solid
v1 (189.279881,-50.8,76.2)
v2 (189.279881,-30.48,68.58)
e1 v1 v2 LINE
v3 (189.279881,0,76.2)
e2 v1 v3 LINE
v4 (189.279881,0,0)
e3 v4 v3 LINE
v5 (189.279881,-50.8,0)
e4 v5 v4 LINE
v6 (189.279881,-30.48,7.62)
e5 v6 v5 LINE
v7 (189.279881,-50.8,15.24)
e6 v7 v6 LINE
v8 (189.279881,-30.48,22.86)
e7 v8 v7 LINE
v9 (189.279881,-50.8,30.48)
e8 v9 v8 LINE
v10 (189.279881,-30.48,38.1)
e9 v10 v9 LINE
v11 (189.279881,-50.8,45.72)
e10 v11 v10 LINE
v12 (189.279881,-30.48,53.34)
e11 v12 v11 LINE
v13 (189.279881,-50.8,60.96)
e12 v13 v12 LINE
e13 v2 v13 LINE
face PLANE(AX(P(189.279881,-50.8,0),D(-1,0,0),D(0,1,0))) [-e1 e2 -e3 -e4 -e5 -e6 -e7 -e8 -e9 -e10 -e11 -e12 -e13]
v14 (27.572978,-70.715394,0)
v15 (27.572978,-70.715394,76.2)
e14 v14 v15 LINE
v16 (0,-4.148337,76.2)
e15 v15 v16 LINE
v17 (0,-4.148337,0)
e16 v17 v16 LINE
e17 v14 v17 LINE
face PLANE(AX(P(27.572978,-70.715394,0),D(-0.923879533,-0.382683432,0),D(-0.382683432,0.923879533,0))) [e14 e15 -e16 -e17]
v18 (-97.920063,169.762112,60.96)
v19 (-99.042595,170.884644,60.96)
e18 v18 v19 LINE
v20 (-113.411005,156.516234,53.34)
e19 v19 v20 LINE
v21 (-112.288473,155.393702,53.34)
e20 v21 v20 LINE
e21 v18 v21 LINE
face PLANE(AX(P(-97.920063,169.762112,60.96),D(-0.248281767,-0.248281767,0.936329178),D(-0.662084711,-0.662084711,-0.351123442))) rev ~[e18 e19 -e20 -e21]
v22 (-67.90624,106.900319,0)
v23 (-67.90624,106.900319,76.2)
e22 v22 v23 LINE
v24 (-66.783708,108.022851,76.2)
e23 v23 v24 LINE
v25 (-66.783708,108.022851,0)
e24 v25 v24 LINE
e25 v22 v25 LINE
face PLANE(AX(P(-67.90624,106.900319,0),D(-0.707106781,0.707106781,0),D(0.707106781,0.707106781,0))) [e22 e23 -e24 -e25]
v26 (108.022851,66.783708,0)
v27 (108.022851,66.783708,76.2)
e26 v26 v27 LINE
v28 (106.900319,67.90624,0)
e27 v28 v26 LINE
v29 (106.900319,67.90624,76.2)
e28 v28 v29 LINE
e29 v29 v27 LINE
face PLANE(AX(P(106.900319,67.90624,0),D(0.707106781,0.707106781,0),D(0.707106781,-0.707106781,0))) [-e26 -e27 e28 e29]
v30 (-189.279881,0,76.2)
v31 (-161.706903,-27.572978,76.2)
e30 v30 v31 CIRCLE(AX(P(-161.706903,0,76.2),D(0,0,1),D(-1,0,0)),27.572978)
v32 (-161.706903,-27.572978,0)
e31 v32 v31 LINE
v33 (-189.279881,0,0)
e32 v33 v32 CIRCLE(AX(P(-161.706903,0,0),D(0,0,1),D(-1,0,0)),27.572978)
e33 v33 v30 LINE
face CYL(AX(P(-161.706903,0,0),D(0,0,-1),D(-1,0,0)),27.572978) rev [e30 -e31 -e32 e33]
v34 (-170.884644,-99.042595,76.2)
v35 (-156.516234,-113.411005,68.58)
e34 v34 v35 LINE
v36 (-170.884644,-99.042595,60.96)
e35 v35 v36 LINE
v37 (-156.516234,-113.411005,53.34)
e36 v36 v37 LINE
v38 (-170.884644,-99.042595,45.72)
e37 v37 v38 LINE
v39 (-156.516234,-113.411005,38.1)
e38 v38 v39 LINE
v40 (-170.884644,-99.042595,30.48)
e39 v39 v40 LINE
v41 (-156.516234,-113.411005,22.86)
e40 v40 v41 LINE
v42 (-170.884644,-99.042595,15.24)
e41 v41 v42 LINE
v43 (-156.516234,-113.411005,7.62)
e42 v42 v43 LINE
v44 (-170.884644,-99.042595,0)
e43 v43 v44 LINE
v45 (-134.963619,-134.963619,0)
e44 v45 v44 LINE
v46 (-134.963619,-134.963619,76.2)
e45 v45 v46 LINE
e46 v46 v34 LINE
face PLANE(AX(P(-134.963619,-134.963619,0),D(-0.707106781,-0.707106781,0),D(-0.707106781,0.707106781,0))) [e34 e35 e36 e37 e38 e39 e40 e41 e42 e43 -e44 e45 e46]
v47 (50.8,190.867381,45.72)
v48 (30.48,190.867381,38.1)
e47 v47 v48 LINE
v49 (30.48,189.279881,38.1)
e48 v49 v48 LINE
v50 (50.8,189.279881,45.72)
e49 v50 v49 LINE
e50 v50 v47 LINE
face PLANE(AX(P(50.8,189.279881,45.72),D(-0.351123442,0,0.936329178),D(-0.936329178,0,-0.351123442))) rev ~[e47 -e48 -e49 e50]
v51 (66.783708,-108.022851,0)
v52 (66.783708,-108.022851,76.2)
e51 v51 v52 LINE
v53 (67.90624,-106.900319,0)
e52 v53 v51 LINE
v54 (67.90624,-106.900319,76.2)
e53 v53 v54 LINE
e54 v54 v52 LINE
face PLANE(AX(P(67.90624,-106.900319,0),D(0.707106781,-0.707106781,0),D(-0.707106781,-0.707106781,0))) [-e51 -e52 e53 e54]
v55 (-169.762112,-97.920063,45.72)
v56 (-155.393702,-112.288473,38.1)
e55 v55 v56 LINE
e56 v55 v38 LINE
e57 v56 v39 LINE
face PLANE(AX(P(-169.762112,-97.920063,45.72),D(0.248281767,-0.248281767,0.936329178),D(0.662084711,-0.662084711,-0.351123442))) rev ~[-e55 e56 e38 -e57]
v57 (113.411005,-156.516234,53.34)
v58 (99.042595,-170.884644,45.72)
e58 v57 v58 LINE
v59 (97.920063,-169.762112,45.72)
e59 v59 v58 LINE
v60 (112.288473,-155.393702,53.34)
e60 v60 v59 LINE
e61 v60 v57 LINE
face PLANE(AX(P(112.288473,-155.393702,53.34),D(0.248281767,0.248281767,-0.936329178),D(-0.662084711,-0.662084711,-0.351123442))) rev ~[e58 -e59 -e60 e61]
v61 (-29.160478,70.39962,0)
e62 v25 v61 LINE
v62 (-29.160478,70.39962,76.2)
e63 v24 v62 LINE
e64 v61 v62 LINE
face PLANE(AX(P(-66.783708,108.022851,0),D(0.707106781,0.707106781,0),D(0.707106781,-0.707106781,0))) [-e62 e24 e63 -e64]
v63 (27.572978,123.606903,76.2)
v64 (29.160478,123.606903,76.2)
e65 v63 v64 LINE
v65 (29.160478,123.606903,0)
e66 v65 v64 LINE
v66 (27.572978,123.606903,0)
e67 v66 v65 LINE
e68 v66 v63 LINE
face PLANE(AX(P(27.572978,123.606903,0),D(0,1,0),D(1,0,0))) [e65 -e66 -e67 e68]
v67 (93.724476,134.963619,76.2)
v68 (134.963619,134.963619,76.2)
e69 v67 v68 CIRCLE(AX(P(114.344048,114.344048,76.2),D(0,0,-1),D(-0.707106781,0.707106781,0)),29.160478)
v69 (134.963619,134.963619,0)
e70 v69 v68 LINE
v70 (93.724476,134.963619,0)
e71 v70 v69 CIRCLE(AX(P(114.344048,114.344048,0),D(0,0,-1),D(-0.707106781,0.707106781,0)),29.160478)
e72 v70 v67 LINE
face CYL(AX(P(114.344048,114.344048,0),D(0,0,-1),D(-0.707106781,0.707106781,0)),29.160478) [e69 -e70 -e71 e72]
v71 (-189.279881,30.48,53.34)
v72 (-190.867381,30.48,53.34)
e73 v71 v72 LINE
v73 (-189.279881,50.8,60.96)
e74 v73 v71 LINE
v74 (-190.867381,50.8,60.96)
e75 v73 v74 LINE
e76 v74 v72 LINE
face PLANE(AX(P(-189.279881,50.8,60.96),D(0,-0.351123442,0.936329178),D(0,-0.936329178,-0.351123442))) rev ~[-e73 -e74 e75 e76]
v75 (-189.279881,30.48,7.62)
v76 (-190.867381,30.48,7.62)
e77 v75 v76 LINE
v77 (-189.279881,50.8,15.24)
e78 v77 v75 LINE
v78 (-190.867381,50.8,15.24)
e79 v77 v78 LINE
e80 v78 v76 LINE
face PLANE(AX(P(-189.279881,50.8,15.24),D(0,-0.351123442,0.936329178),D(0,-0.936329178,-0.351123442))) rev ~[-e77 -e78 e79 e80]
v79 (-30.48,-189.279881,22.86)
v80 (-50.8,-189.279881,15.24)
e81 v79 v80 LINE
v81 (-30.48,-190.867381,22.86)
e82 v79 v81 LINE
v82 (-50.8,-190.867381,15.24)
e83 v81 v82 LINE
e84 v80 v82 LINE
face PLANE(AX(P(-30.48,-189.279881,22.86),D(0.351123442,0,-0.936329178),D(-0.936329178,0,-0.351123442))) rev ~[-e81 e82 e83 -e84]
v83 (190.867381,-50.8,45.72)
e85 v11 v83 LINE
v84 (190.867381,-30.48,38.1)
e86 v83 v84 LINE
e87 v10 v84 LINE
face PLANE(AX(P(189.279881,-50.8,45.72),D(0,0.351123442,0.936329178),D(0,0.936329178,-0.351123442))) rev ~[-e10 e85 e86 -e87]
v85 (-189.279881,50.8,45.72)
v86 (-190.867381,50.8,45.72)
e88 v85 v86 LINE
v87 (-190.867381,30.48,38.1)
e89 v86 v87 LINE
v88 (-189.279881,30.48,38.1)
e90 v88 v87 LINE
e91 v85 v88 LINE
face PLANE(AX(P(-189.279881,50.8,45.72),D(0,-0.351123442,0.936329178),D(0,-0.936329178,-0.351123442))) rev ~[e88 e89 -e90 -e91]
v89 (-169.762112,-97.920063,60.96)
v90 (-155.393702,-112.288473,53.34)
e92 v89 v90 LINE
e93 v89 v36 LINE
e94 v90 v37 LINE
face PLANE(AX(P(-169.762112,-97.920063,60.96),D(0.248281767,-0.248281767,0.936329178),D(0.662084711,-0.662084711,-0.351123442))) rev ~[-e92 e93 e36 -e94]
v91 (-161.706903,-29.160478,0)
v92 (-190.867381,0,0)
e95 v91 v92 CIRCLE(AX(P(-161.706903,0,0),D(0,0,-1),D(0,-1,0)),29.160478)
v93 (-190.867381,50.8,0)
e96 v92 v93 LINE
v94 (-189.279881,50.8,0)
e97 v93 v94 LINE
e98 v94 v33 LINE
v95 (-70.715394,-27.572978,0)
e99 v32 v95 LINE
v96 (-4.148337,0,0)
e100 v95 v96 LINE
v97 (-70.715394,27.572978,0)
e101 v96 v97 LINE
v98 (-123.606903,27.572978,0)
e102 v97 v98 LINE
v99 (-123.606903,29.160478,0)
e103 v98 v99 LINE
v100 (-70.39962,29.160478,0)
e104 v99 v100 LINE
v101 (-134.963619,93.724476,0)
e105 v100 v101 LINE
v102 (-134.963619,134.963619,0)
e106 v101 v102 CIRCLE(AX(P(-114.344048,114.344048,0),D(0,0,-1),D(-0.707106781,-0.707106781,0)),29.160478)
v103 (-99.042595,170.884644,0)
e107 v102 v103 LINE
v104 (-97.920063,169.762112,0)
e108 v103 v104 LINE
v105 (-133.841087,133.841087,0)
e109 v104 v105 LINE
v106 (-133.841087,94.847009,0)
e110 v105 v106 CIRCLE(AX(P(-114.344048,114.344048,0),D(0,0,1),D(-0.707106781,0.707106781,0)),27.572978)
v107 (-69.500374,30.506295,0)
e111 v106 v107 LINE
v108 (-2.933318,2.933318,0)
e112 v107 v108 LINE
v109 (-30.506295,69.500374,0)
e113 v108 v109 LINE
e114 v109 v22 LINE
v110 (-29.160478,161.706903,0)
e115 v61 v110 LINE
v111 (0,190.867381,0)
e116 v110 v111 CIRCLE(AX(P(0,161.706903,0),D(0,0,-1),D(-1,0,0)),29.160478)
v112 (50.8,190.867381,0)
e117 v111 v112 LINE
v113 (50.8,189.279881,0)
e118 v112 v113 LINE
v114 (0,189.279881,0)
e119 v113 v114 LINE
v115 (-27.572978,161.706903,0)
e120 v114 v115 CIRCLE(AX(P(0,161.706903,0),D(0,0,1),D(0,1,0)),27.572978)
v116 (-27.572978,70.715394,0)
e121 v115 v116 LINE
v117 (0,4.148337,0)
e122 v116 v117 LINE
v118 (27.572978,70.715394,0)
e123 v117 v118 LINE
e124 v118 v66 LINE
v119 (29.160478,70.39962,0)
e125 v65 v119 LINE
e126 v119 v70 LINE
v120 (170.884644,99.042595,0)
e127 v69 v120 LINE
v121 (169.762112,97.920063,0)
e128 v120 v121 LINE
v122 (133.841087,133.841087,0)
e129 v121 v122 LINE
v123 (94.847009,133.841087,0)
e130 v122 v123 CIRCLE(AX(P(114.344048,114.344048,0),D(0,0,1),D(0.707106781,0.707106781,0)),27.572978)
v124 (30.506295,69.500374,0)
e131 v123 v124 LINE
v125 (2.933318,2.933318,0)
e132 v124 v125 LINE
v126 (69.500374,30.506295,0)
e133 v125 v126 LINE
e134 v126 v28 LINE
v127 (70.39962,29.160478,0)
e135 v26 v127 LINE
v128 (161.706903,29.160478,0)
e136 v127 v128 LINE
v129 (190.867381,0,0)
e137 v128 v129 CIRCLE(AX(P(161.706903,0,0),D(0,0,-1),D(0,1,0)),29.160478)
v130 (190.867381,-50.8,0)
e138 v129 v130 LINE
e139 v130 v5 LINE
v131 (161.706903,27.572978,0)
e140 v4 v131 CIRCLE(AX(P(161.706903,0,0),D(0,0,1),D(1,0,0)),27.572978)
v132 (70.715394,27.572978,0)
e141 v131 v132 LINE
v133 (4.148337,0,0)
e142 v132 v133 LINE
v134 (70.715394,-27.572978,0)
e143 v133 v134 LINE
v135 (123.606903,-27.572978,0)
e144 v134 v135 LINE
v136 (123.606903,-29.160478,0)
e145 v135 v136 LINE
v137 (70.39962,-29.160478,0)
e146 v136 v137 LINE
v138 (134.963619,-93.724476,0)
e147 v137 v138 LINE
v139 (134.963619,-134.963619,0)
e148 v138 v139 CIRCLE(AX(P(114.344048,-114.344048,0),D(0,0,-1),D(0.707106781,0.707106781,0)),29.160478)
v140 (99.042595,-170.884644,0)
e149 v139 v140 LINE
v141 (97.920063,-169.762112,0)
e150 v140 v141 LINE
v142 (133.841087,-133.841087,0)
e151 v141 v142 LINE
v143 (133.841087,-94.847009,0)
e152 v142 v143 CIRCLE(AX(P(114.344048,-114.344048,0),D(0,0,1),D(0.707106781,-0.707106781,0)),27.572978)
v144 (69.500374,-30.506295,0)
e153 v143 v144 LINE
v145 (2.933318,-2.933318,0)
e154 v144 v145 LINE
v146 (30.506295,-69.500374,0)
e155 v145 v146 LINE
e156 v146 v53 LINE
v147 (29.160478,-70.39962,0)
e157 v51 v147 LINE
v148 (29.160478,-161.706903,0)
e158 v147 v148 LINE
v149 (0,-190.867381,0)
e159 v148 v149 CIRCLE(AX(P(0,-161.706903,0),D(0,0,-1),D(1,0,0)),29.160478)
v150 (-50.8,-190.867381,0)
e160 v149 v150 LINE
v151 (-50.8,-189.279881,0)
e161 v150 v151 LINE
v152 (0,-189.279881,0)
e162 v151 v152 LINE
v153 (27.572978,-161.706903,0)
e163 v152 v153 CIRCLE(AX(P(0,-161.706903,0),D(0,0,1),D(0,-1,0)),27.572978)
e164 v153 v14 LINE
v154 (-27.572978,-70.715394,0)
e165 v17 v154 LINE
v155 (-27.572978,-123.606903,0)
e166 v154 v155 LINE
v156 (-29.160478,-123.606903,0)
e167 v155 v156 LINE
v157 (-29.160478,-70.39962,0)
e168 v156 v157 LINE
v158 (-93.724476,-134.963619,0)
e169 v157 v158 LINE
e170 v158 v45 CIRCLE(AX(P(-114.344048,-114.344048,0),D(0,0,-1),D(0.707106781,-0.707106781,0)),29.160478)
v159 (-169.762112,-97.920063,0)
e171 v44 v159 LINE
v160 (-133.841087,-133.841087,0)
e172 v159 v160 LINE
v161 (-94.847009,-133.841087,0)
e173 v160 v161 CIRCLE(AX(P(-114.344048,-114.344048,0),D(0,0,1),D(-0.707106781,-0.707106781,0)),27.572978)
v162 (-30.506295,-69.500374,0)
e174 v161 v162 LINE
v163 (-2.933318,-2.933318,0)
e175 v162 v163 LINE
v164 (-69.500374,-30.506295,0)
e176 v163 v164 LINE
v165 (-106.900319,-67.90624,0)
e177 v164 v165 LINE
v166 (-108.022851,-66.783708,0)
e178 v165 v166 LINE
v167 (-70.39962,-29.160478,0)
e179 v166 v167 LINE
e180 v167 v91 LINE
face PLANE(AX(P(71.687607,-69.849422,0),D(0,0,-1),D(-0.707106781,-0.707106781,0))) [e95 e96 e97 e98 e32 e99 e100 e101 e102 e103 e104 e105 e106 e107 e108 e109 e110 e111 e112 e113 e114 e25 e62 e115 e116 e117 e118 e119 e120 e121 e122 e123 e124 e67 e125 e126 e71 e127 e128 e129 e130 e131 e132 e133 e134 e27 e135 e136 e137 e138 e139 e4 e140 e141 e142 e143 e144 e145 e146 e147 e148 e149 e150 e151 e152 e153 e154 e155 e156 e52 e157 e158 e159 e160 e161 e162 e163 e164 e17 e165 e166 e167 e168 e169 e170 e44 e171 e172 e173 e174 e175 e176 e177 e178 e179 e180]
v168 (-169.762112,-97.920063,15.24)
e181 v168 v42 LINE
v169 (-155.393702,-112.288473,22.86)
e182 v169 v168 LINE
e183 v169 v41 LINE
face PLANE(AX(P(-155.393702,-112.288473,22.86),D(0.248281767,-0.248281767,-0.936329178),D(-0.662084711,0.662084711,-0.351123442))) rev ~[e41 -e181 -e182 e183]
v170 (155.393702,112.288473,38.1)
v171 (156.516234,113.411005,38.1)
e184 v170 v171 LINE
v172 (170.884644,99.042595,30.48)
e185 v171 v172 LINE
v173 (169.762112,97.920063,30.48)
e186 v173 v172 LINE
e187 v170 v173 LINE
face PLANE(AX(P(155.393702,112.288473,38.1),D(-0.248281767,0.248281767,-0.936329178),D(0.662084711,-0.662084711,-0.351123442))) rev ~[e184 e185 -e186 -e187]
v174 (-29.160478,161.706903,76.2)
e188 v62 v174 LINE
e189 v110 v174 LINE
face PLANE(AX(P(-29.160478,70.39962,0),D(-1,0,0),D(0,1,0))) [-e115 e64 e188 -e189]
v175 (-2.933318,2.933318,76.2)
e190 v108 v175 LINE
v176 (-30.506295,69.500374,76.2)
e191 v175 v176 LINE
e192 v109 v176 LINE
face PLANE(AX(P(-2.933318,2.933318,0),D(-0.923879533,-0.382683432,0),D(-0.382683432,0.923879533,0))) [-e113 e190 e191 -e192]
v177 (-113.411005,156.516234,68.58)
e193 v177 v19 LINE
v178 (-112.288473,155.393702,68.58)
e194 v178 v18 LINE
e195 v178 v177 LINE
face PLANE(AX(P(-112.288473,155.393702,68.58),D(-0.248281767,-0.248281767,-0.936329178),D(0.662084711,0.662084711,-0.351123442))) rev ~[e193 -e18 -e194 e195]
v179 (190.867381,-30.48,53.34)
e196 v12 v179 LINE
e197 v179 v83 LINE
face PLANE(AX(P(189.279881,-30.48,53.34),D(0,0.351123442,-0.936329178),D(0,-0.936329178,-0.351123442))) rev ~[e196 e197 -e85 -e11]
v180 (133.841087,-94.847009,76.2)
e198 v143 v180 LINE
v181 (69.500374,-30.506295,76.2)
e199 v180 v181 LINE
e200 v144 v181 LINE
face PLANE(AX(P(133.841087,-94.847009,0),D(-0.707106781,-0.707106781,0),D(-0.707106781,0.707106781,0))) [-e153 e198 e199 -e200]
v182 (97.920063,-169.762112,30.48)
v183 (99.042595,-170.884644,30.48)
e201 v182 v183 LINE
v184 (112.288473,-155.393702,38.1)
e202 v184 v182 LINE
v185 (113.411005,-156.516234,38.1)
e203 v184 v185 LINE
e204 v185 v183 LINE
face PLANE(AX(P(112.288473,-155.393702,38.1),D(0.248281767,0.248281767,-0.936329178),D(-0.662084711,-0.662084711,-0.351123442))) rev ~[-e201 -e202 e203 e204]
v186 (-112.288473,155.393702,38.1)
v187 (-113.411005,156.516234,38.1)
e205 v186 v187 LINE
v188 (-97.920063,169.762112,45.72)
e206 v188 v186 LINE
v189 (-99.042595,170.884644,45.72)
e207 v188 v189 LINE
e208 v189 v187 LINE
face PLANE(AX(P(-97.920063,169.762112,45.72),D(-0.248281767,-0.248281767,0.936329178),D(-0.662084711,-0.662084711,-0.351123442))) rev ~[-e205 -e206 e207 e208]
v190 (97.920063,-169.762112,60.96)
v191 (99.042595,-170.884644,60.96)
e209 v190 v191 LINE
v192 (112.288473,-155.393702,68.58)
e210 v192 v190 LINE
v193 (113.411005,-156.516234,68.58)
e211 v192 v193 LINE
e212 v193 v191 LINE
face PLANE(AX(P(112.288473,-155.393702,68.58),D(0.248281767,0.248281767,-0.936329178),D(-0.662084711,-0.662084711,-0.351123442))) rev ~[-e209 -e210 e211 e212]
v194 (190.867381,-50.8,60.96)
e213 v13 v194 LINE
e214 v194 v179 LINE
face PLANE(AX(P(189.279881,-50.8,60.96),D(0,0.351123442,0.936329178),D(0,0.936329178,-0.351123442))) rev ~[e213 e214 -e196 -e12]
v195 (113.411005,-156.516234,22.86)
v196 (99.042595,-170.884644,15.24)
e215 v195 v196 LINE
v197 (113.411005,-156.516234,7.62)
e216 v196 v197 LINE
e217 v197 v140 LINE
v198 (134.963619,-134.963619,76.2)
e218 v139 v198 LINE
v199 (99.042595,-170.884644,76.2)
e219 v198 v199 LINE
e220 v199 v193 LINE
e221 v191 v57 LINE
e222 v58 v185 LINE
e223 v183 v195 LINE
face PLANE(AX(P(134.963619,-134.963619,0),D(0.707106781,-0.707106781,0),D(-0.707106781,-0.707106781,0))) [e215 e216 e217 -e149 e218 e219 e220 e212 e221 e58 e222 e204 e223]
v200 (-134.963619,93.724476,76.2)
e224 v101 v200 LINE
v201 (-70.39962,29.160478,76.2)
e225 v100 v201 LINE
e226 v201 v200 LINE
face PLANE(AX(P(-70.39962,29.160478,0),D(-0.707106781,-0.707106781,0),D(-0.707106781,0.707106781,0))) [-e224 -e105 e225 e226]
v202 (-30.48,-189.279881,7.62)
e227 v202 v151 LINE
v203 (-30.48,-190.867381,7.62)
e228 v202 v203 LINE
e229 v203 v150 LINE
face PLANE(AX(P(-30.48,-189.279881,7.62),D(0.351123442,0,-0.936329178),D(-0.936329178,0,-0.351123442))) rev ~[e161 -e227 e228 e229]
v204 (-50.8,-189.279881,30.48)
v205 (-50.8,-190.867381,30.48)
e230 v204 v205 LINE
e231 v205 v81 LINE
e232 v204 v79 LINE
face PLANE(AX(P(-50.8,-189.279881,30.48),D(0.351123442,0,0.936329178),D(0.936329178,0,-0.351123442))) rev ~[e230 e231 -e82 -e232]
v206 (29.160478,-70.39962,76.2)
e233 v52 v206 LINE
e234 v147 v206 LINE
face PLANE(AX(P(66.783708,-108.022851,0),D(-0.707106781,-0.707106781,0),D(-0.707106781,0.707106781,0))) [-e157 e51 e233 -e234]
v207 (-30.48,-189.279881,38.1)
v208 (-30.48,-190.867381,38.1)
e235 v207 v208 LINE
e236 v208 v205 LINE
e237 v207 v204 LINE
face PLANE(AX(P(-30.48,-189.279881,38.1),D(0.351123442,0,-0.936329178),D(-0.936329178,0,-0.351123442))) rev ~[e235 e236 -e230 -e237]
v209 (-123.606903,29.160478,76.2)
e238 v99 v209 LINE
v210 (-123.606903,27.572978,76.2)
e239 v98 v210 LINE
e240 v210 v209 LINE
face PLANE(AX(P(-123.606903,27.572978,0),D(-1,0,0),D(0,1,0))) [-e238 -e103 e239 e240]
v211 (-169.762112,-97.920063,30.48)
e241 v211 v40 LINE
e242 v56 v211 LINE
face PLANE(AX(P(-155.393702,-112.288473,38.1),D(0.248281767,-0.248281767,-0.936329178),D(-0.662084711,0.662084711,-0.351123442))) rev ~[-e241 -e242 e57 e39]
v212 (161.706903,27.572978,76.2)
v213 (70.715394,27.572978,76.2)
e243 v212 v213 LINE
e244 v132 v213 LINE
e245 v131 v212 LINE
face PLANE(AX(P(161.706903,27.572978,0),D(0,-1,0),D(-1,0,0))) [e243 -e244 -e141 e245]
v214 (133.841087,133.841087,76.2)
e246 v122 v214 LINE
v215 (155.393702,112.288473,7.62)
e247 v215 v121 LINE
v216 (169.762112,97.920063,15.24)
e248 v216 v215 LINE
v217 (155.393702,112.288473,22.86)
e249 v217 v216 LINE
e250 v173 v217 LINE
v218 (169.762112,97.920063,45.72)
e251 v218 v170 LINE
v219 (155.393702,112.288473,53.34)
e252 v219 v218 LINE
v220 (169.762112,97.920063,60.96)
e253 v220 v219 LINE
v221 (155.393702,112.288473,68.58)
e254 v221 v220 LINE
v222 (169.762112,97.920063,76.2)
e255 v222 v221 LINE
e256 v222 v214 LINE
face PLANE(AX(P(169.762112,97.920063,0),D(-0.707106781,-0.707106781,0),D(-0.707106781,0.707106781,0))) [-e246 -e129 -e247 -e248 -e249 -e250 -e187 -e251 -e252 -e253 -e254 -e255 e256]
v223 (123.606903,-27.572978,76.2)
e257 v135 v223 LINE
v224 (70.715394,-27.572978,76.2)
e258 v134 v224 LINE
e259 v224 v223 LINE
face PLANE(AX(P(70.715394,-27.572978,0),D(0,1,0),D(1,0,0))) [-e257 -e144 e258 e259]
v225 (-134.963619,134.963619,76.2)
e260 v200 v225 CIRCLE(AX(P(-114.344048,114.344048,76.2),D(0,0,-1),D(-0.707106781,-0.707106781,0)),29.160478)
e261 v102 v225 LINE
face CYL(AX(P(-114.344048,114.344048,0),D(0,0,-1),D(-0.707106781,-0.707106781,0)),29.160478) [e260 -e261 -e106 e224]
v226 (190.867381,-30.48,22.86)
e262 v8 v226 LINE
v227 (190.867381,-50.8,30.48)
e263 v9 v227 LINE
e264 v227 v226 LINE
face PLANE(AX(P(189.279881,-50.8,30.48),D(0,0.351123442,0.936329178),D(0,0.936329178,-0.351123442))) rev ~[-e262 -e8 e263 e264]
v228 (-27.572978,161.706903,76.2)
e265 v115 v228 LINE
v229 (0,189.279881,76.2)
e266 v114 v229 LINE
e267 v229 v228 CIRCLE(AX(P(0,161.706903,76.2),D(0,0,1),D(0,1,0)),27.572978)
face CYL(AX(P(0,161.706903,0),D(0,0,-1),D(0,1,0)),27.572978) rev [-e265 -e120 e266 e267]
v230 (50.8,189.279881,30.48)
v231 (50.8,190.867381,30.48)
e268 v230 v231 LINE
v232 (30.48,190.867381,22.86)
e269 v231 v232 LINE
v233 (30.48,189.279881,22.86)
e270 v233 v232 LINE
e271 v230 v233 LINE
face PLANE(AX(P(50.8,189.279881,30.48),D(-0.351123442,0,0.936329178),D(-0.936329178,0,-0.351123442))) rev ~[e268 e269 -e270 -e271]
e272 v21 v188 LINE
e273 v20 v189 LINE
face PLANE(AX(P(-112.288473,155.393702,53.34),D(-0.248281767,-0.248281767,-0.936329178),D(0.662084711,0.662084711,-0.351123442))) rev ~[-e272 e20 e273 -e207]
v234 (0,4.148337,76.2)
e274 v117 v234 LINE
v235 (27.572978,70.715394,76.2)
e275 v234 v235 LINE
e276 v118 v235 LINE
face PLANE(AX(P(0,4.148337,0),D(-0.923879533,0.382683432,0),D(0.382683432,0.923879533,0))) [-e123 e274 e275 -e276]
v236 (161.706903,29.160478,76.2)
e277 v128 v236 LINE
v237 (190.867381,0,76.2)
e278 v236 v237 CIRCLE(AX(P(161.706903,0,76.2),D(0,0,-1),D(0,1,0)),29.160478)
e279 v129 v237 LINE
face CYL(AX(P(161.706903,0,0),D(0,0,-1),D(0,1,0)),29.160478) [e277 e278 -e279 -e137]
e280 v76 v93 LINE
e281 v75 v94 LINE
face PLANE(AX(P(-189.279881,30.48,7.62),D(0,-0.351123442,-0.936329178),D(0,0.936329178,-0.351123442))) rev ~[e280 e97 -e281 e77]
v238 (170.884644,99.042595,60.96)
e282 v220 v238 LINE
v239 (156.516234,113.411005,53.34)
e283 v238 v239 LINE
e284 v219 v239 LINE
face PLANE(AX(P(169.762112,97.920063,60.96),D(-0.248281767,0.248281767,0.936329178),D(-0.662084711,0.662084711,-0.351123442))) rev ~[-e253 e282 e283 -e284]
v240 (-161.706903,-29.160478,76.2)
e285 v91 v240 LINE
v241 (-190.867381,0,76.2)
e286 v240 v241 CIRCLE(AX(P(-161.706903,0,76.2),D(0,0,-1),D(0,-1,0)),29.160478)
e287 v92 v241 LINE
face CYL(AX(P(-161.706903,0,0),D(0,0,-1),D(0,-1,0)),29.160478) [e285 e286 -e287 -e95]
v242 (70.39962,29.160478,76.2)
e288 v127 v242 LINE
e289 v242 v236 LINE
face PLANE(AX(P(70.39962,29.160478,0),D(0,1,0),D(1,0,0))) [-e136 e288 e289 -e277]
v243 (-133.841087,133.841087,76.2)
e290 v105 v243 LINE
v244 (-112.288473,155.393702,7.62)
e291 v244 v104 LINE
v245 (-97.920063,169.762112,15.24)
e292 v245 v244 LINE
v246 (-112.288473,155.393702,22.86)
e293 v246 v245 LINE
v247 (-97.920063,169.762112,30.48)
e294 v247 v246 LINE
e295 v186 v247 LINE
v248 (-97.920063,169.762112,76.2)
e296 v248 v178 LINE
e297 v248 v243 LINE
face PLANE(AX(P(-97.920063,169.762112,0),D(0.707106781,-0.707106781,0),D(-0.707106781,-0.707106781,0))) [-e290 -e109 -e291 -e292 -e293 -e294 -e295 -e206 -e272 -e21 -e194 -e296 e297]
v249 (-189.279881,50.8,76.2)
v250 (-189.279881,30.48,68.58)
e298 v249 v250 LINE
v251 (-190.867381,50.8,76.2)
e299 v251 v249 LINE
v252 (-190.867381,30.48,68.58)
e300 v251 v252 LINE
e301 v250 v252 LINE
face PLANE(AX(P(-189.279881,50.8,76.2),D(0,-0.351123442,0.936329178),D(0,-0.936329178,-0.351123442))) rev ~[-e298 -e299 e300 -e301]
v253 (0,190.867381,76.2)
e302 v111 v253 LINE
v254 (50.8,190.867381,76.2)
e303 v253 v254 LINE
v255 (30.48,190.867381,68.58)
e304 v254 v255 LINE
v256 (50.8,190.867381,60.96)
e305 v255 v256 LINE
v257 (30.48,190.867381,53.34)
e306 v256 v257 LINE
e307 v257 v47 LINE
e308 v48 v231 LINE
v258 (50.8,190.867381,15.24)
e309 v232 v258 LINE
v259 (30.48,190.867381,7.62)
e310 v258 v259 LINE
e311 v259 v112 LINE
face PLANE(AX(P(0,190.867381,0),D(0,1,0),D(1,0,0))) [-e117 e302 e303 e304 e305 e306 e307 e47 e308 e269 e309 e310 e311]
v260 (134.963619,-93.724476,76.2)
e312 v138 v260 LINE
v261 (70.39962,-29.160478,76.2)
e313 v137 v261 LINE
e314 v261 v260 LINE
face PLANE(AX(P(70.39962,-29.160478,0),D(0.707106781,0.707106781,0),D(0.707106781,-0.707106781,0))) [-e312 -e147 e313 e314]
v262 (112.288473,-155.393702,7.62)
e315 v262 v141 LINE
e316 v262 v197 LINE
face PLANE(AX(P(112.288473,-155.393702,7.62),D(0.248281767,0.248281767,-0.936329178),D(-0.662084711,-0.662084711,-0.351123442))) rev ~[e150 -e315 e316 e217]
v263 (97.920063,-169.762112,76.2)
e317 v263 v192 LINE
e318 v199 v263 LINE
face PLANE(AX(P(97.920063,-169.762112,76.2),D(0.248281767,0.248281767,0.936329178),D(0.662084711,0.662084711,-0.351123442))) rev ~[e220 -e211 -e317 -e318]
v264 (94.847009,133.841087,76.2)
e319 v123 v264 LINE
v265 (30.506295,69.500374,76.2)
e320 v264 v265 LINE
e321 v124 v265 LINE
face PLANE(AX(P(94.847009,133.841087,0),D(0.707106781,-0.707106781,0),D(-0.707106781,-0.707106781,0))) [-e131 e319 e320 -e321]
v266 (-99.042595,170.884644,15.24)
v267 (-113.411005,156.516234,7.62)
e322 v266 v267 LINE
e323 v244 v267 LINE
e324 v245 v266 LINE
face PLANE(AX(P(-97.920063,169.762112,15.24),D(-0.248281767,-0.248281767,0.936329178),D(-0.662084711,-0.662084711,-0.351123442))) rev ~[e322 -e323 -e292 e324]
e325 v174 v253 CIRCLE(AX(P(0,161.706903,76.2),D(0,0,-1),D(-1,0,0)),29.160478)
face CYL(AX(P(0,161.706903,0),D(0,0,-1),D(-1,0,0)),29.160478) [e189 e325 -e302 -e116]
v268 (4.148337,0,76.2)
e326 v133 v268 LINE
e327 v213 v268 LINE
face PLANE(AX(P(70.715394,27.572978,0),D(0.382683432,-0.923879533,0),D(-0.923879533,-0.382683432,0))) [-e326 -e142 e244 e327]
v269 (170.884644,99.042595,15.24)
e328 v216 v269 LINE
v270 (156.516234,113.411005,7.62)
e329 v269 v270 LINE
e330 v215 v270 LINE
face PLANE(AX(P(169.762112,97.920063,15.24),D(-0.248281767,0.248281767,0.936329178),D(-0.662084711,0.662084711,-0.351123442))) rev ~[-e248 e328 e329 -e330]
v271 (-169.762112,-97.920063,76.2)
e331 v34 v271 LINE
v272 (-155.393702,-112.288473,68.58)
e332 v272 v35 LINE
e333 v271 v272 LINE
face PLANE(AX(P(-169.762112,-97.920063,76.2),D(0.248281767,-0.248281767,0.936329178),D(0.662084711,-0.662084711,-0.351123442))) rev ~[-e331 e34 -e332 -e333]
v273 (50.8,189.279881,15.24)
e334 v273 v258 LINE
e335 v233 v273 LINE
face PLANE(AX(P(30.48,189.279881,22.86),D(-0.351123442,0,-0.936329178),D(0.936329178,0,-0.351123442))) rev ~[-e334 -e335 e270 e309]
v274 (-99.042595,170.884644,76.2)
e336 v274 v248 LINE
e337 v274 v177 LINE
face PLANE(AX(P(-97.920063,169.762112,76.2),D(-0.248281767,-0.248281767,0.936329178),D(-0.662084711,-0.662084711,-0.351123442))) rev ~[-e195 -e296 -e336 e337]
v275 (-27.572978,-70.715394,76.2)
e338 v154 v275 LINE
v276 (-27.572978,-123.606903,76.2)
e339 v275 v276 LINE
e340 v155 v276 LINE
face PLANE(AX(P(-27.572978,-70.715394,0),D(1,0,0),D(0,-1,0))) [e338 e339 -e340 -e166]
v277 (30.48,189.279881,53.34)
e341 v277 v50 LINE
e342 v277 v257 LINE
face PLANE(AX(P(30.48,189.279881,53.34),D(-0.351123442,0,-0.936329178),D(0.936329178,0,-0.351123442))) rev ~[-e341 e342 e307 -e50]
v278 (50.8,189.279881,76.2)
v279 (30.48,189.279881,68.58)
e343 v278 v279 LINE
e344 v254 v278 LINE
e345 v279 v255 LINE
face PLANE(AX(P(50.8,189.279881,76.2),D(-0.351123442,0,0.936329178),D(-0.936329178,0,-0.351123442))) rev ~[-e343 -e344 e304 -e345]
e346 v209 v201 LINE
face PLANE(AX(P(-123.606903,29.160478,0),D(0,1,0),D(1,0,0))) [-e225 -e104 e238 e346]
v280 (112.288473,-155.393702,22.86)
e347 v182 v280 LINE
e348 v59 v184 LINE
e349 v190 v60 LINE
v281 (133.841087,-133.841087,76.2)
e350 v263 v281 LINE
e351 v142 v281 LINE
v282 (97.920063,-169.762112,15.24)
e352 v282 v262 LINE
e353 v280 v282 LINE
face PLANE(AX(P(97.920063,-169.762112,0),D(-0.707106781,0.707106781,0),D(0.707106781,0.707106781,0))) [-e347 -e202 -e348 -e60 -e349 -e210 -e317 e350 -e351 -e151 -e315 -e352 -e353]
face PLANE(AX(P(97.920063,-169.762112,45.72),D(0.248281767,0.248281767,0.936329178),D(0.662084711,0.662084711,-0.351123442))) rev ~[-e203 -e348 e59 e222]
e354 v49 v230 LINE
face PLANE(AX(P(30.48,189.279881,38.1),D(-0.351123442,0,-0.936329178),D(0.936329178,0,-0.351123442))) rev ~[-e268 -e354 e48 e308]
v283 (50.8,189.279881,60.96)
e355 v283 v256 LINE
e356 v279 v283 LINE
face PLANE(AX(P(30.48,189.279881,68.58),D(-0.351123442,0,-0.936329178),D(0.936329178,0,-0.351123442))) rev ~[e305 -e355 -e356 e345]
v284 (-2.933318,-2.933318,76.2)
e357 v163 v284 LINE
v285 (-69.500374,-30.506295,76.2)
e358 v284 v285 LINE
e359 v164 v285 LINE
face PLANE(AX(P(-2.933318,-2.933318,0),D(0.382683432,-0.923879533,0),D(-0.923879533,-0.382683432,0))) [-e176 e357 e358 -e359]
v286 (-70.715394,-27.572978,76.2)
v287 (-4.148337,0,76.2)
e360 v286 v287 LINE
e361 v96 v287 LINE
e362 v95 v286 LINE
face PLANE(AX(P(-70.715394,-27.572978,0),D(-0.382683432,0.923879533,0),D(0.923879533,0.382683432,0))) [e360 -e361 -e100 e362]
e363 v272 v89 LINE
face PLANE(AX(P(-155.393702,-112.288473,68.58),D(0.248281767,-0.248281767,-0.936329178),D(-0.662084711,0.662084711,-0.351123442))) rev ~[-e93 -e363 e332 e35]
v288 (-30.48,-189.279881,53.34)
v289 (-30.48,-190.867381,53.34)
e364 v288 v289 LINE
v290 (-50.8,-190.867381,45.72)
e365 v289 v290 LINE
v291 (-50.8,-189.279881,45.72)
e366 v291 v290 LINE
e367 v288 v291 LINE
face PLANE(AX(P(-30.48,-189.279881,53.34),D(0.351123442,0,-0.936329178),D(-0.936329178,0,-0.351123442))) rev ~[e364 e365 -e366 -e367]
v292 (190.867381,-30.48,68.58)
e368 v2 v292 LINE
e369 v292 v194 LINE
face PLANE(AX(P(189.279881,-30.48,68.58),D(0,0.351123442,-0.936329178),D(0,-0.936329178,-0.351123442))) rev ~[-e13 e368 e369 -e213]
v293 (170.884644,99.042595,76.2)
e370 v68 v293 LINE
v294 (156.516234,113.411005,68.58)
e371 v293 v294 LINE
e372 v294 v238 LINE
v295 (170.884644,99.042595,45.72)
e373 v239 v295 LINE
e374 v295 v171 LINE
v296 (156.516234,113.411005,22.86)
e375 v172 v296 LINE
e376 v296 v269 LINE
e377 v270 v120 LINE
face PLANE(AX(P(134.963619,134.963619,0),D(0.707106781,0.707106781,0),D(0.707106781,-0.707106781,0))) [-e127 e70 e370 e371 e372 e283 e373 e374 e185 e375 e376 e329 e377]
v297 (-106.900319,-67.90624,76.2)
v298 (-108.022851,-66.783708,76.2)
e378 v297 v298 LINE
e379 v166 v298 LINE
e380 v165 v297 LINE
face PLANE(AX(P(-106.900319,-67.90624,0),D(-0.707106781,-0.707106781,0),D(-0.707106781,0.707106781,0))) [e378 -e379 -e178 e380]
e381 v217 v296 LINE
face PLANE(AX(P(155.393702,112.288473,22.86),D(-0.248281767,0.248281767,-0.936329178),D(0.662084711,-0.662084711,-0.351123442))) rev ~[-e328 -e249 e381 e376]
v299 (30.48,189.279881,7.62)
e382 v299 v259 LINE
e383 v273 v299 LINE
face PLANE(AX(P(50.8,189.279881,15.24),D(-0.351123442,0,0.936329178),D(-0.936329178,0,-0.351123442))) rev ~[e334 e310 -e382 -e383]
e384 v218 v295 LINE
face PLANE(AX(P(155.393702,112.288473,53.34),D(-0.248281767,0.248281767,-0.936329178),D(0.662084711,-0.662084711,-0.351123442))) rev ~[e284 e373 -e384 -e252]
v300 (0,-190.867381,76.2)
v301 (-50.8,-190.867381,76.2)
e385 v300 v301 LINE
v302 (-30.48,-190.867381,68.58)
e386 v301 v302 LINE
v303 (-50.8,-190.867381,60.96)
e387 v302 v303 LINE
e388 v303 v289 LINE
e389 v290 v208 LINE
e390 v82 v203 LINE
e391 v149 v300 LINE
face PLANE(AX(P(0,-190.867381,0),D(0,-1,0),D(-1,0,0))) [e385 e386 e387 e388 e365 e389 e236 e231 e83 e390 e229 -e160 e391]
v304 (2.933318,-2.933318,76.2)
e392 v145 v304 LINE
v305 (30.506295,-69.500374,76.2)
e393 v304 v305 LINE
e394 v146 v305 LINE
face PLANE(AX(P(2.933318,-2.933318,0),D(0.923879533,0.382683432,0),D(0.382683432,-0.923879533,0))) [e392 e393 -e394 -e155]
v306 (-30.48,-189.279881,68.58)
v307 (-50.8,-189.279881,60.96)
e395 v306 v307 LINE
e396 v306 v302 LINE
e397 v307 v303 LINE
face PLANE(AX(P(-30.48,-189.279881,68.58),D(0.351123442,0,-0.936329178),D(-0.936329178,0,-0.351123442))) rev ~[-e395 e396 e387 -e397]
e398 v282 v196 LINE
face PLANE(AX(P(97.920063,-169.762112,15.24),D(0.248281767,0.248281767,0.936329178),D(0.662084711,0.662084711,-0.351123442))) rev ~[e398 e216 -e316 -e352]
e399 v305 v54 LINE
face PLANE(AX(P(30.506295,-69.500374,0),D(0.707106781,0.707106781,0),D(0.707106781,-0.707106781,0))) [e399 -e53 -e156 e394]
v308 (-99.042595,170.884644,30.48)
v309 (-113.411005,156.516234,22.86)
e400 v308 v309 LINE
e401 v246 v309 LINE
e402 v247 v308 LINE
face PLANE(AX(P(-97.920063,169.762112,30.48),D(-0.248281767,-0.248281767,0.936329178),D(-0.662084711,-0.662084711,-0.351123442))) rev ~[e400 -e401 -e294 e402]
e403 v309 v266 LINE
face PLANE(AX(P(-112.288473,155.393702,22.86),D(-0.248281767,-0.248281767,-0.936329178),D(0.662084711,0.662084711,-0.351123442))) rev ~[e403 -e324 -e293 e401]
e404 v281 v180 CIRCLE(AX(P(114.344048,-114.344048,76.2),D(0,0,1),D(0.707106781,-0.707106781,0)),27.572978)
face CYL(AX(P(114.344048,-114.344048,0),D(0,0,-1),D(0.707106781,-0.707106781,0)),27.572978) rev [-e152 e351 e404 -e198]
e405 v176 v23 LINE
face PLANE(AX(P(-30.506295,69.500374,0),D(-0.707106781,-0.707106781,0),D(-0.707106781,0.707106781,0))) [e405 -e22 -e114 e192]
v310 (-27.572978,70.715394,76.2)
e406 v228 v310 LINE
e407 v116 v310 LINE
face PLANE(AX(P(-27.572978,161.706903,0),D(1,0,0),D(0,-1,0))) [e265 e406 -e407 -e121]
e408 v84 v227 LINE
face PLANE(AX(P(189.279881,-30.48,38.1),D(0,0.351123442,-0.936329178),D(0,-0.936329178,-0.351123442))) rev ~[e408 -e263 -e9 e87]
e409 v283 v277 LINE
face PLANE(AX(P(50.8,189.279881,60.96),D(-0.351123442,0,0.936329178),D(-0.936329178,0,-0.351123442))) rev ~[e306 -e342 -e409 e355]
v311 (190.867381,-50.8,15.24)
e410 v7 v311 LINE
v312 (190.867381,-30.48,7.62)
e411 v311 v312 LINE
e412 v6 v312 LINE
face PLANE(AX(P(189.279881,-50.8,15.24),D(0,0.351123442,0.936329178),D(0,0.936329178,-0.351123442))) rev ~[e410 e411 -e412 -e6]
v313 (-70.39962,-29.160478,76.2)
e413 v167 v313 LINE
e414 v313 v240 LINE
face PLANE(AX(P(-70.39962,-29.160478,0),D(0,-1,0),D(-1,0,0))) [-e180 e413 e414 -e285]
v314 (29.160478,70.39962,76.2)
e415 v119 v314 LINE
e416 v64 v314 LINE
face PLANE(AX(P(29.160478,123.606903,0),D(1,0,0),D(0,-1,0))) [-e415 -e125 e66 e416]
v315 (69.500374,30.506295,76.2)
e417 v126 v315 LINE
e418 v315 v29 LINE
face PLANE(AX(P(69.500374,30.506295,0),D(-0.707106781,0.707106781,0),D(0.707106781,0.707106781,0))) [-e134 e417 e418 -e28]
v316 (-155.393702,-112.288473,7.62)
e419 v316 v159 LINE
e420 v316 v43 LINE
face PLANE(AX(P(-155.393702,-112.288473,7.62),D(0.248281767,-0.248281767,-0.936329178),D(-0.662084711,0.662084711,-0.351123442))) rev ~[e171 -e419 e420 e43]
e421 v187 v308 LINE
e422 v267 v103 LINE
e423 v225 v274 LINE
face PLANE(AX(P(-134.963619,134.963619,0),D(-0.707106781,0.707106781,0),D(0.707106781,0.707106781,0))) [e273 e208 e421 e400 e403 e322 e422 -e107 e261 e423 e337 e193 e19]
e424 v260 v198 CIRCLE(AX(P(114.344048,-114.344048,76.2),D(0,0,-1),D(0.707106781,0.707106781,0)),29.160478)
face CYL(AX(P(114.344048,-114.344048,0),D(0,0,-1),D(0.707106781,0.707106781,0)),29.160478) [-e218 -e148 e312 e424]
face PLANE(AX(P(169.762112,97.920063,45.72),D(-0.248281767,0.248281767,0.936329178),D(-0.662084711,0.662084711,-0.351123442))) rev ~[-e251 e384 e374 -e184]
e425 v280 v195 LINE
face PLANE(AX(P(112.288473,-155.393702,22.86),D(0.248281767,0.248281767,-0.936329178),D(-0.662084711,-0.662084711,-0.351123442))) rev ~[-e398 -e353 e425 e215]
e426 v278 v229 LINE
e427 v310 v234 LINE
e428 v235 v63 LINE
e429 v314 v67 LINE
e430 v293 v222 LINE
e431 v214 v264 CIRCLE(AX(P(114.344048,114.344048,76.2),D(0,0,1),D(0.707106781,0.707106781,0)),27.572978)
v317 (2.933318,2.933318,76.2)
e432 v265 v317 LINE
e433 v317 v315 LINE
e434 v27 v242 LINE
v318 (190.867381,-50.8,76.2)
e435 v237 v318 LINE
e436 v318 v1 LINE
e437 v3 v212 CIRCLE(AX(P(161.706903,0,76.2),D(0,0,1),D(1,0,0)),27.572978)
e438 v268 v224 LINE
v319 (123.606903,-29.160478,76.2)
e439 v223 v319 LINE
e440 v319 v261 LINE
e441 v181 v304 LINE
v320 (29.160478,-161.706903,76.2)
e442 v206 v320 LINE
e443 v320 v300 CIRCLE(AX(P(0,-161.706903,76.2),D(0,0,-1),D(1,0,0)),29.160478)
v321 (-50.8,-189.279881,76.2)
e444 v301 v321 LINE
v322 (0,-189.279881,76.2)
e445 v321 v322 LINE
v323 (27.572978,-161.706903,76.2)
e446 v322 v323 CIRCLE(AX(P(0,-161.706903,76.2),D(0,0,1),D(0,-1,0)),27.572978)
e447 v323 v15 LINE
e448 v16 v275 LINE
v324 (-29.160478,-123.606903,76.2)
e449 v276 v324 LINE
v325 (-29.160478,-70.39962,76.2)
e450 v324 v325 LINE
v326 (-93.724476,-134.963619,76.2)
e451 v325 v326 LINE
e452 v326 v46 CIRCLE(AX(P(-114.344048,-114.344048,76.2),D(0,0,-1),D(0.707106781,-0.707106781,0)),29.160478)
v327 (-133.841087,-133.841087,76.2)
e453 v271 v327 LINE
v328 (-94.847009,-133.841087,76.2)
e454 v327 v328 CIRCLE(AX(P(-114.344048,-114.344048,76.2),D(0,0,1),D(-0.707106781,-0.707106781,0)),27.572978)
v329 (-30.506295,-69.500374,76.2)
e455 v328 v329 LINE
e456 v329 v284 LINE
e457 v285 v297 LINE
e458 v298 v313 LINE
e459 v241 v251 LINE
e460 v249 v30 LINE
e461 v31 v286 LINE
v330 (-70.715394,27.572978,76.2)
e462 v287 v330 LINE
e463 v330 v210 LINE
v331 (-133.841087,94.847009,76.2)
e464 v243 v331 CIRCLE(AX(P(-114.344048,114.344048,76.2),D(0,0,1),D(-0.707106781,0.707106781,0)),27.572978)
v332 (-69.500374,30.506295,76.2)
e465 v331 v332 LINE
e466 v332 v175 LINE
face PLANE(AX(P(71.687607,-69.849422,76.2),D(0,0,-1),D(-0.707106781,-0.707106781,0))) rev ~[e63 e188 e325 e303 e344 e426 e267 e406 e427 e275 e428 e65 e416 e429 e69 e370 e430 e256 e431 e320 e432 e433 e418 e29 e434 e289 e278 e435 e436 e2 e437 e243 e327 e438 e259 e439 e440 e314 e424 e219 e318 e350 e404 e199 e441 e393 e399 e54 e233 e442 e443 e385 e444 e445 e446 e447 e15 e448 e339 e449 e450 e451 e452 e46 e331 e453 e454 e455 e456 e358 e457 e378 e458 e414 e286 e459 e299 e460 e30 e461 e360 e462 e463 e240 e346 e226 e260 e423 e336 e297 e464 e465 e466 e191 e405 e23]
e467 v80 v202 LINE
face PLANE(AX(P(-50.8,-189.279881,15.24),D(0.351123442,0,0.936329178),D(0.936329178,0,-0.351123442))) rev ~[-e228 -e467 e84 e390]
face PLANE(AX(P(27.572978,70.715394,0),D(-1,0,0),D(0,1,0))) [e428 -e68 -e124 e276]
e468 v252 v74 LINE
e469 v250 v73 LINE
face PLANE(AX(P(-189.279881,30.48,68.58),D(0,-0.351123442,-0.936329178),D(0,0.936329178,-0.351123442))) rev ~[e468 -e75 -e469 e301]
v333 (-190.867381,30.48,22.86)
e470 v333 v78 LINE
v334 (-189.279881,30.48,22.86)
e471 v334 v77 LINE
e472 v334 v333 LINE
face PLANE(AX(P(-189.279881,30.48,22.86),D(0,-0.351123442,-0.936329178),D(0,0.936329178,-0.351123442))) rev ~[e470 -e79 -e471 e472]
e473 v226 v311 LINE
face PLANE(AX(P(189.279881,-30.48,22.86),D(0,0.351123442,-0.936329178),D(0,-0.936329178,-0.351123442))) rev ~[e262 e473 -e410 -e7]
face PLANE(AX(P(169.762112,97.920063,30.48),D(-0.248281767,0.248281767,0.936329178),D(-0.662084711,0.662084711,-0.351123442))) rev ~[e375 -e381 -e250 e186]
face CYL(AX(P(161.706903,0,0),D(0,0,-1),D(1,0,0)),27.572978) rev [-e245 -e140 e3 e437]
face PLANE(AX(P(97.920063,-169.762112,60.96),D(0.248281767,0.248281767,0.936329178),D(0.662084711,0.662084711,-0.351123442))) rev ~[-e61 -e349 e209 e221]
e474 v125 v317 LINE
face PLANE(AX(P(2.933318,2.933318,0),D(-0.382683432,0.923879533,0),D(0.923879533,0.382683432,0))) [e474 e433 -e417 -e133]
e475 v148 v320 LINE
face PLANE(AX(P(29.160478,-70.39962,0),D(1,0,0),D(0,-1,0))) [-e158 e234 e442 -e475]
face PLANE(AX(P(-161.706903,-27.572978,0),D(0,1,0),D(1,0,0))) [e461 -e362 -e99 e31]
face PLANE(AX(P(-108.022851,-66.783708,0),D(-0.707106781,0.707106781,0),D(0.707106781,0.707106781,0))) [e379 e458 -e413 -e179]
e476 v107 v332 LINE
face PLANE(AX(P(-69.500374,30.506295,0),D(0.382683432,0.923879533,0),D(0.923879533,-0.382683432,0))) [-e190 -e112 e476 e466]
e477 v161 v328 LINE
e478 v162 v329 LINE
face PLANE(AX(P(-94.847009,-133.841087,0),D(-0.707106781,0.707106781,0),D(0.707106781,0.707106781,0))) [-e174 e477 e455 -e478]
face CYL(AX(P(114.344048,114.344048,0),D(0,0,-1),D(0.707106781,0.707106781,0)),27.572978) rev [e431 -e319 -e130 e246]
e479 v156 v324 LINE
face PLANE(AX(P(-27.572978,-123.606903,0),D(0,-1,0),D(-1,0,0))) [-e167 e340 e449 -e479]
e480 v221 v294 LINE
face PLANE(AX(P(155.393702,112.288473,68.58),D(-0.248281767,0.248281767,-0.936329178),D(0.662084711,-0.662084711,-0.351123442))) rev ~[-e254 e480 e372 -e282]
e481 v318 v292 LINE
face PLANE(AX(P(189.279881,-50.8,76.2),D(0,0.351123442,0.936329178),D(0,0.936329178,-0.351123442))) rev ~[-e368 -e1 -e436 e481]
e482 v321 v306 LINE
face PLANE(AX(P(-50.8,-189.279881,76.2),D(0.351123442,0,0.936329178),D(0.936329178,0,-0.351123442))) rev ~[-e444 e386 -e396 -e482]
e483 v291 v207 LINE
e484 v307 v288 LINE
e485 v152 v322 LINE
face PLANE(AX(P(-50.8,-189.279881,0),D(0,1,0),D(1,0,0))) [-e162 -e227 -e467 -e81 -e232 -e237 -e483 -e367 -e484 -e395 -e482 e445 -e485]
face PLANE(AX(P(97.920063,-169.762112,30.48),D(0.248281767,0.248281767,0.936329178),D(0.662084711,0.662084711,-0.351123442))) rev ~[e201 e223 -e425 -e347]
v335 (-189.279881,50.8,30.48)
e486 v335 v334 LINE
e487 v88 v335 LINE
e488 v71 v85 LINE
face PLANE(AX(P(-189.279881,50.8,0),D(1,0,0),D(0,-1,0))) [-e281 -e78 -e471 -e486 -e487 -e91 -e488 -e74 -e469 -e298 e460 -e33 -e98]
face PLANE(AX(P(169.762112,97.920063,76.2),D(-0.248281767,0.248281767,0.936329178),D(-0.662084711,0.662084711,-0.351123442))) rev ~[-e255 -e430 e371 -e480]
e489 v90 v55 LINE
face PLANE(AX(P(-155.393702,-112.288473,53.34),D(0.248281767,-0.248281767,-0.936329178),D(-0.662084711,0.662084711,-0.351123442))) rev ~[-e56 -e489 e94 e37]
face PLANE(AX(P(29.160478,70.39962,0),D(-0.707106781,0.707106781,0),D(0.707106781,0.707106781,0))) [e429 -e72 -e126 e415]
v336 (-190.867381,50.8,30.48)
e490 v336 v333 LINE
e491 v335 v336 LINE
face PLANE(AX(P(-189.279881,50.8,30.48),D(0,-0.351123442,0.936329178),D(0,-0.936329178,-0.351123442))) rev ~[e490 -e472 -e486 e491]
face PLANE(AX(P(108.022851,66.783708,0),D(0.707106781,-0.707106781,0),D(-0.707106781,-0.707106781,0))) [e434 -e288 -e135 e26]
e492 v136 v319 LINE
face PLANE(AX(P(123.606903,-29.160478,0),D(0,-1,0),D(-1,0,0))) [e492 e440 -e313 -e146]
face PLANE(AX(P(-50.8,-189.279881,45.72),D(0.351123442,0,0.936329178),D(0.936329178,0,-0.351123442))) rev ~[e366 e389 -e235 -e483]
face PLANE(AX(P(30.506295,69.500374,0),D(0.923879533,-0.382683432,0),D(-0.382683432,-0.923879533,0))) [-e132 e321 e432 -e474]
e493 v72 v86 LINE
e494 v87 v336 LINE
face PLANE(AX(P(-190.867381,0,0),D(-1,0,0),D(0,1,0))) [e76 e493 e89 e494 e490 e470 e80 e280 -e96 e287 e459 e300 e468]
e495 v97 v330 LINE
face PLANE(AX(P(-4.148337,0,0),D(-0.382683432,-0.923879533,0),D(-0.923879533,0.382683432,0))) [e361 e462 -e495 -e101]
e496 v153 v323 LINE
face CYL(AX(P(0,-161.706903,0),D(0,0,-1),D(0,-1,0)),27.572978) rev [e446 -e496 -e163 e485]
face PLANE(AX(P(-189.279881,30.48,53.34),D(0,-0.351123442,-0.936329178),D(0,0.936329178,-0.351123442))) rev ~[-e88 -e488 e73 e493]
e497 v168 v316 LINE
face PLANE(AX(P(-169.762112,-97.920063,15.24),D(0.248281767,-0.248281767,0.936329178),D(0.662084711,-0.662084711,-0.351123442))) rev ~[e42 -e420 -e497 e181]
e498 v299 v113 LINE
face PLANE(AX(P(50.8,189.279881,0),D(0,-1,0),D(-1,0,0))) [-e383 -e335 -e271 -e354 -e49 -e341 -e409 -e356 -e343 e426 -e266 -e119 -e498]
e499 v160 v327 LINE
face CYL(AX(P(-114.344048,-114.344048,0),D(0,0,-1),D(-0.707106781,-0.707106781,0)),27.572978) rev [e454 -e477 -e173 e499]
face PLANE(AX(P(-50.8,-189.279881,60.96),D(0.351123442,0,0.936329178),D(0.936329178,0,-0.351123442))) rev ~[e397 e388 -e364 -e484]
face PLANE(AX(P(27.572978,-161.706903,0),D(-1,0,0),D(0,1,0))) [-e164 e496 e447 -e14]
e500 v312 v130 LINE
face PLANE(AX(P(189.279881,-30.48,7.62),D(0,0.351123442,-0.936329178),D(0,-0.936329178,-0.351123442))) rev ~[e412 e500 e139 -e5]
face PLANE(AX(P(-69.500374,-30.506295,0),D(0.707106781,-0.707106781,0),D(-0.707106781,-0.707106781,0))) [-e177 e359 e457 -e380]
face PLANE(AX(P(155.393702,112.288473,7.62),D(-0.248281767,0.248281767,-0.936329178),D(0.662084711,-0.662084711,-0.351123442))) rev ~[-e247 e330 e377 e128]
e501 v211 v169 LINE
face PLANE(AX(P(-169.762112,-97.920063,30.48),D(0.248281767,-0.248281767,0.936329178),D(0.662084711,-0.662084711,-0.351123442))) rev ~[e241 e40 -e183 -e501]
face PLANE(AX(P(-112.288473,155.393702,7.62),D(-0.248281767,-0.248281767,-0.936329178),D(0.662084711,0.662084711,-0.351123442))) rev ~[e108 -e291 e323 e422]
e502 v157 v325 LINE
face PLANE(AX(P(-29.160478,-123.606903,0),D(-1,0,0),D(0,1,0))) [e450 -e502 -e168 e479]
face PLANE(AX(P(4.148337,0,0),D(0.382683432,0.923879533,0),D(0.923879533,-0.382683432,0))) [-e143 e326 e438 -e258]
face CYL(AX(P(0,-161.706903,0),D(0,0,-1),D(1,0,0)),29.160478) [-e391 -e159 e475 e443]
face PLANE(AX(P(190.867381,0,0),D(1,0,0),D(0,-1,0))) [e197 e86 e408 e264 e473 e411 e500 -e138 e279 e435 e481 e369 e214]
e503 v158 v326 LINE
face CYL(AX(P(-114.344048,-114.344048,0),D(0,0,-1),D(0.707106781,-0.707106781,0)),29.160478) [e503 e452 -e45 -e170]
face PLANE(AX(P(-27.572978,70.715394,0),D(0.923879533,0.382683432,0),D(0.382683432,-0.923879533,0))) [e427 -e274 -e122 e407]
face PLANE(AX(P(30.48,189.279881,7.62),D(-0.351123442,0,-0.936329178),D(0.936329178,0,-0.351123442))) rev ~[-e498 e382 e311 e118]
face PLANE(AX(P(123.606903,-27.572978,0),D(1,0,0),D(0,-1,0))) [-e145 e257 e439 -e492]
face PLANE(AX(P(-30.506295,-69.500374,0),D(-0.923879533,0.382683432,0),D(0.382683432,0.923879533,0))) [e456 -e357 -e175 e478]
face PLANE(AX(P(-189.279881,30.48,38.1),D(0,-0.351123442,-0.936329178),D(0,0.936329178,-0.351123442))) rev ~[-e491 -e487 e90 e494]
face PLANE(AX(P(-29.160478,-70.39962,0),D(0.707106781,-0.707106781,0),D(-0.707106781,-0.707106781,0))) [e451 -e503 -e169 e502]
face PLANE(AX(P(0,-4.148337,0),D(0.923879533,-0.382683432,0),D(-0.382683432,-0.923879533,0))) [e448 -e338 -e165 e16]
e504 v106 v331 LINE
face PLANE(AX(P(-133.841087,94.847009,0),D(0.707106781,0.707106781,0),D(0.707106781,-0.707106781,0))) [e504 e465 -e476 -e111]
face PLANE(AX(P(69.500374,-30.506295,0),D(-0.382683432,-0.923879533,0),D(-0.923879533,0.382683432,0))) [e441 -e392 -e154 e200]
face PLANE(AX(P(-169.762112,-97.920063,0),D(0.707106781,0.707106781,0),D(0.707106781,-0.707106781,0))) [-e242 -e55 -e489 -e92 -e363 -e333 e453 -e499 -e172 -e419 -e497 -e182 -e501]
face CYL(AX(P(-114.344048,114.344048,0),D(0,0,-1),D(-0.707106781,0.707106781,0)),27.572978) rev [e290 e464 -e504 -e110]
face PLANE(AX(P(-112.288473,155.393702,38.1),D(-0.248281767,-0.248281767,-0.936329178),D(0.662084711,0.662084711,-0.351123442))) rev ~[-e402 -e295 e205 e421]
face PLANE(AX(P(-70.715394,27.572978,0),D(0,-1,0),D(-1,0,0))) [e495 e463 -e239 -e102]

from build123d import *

# Parameters (mm, degrees)
BOSS_EXTRUDE1_DEPTH = 76.2
CUT_EXTRUDE2_START  = -1.5875
CUT_EXTRUDE2_DEPTH  = 1.5875
CIRPATTERN10_COUNT  = 8


with BuildPart() as part:
    # Sketch2 → Boss-Extrude1 (new body)
    with BuildSketch(Plane.XY):
        with BuildLine():
            Line((0, 0), (29.160477546, -70.399620377))
            Line((29.160477546, -70.399620377), (29.160477546, -123.606903324))
            Line((29.160477546, -123.606903324), (29.160477546, -161.706903324))
            ThreePointArc((29.160477546, -161.706903324), (20.619571416, -182.326474739), (0, -190.86738087))
            Line((0, -190.86738087), (-50.8, -190.86738087))
            Line((-50.8, -190.86738087), (-50.8, -189.27988087))
            Line((-50.8, -189.27988087), (0, -189.27988087))
            ThreePointArc((0, -189.27988087), (19.4970394, -181.203942724), (27.572977546, -161.706903324))
            Line((27.572977546, -161.706903324), (27.572977546, -123.606903324))
            Line((27.572977546, -123.606903324), (27.572977546, -70.715393761))
            Line((27.572977546, -70.715393761), (0, -4.148337413))
            Line((0, -4.148337413), (-27.572977546, -70.715393761))
            Line((-27.572977546, -70.715393761), (-27.572977546, -123.606903324))
            Line((-27.572977546, -123.606903324), (-29.160477546, -123.606903324))
            Line((-29.160477546, -123.606903324), (-29.160477546, -70.399620377))
            Line((-29.160477546, -70.399620377), (0, 0))
        make_face()
    boss_extrude1 = extrude(amount=BOSS_EXTRUDE1_DEPTH)

    # Sketch5 → Cut-Extrude2 (cut)
    with BuildSketch(Plane.XZ.offset(190.86738087).offset(CUT_EXTRUDE2_START)):
        Polygon((-50.8, 76.2), (-30.48, 68.58), (-50.8, 60.96), (-30.48, 53.34), (-50.8, 45.72), (-30.48, 38.1), (-50.8, 30.48), (-30.48, 22.86), (-50.8, 15.24), (-30.48, 7.62), (-50.8, 0), (-53.34, 0), (-53.34, 76.2), align=None)
    cut_extrude2 = extrude(amount=CUT_EXTRUDE2_DEPTH, mode=Mode.SUBTRACT)

    # CirPattern10: Boss-Extrude1, Cut-Extrude2 ×8 about axis
    cirpattern10_axis = Axis((0, 0, 0), (0, 0, 1))
    add([boss_extrude1.rotate(cirpattern10_axis, i * 360 / CIRPATTERN10_COUNT) for i in range(1, CIRPATTERN10_COUNT)])
    add([cut_extrude2.rotate(cirpattern10_axis, i * 360 / CIRPATTERN10_COUNT) for i in range(1, CIRPATTERN10_COUNT)], mode=Mode.SUBTRACT)


solid = part.part
